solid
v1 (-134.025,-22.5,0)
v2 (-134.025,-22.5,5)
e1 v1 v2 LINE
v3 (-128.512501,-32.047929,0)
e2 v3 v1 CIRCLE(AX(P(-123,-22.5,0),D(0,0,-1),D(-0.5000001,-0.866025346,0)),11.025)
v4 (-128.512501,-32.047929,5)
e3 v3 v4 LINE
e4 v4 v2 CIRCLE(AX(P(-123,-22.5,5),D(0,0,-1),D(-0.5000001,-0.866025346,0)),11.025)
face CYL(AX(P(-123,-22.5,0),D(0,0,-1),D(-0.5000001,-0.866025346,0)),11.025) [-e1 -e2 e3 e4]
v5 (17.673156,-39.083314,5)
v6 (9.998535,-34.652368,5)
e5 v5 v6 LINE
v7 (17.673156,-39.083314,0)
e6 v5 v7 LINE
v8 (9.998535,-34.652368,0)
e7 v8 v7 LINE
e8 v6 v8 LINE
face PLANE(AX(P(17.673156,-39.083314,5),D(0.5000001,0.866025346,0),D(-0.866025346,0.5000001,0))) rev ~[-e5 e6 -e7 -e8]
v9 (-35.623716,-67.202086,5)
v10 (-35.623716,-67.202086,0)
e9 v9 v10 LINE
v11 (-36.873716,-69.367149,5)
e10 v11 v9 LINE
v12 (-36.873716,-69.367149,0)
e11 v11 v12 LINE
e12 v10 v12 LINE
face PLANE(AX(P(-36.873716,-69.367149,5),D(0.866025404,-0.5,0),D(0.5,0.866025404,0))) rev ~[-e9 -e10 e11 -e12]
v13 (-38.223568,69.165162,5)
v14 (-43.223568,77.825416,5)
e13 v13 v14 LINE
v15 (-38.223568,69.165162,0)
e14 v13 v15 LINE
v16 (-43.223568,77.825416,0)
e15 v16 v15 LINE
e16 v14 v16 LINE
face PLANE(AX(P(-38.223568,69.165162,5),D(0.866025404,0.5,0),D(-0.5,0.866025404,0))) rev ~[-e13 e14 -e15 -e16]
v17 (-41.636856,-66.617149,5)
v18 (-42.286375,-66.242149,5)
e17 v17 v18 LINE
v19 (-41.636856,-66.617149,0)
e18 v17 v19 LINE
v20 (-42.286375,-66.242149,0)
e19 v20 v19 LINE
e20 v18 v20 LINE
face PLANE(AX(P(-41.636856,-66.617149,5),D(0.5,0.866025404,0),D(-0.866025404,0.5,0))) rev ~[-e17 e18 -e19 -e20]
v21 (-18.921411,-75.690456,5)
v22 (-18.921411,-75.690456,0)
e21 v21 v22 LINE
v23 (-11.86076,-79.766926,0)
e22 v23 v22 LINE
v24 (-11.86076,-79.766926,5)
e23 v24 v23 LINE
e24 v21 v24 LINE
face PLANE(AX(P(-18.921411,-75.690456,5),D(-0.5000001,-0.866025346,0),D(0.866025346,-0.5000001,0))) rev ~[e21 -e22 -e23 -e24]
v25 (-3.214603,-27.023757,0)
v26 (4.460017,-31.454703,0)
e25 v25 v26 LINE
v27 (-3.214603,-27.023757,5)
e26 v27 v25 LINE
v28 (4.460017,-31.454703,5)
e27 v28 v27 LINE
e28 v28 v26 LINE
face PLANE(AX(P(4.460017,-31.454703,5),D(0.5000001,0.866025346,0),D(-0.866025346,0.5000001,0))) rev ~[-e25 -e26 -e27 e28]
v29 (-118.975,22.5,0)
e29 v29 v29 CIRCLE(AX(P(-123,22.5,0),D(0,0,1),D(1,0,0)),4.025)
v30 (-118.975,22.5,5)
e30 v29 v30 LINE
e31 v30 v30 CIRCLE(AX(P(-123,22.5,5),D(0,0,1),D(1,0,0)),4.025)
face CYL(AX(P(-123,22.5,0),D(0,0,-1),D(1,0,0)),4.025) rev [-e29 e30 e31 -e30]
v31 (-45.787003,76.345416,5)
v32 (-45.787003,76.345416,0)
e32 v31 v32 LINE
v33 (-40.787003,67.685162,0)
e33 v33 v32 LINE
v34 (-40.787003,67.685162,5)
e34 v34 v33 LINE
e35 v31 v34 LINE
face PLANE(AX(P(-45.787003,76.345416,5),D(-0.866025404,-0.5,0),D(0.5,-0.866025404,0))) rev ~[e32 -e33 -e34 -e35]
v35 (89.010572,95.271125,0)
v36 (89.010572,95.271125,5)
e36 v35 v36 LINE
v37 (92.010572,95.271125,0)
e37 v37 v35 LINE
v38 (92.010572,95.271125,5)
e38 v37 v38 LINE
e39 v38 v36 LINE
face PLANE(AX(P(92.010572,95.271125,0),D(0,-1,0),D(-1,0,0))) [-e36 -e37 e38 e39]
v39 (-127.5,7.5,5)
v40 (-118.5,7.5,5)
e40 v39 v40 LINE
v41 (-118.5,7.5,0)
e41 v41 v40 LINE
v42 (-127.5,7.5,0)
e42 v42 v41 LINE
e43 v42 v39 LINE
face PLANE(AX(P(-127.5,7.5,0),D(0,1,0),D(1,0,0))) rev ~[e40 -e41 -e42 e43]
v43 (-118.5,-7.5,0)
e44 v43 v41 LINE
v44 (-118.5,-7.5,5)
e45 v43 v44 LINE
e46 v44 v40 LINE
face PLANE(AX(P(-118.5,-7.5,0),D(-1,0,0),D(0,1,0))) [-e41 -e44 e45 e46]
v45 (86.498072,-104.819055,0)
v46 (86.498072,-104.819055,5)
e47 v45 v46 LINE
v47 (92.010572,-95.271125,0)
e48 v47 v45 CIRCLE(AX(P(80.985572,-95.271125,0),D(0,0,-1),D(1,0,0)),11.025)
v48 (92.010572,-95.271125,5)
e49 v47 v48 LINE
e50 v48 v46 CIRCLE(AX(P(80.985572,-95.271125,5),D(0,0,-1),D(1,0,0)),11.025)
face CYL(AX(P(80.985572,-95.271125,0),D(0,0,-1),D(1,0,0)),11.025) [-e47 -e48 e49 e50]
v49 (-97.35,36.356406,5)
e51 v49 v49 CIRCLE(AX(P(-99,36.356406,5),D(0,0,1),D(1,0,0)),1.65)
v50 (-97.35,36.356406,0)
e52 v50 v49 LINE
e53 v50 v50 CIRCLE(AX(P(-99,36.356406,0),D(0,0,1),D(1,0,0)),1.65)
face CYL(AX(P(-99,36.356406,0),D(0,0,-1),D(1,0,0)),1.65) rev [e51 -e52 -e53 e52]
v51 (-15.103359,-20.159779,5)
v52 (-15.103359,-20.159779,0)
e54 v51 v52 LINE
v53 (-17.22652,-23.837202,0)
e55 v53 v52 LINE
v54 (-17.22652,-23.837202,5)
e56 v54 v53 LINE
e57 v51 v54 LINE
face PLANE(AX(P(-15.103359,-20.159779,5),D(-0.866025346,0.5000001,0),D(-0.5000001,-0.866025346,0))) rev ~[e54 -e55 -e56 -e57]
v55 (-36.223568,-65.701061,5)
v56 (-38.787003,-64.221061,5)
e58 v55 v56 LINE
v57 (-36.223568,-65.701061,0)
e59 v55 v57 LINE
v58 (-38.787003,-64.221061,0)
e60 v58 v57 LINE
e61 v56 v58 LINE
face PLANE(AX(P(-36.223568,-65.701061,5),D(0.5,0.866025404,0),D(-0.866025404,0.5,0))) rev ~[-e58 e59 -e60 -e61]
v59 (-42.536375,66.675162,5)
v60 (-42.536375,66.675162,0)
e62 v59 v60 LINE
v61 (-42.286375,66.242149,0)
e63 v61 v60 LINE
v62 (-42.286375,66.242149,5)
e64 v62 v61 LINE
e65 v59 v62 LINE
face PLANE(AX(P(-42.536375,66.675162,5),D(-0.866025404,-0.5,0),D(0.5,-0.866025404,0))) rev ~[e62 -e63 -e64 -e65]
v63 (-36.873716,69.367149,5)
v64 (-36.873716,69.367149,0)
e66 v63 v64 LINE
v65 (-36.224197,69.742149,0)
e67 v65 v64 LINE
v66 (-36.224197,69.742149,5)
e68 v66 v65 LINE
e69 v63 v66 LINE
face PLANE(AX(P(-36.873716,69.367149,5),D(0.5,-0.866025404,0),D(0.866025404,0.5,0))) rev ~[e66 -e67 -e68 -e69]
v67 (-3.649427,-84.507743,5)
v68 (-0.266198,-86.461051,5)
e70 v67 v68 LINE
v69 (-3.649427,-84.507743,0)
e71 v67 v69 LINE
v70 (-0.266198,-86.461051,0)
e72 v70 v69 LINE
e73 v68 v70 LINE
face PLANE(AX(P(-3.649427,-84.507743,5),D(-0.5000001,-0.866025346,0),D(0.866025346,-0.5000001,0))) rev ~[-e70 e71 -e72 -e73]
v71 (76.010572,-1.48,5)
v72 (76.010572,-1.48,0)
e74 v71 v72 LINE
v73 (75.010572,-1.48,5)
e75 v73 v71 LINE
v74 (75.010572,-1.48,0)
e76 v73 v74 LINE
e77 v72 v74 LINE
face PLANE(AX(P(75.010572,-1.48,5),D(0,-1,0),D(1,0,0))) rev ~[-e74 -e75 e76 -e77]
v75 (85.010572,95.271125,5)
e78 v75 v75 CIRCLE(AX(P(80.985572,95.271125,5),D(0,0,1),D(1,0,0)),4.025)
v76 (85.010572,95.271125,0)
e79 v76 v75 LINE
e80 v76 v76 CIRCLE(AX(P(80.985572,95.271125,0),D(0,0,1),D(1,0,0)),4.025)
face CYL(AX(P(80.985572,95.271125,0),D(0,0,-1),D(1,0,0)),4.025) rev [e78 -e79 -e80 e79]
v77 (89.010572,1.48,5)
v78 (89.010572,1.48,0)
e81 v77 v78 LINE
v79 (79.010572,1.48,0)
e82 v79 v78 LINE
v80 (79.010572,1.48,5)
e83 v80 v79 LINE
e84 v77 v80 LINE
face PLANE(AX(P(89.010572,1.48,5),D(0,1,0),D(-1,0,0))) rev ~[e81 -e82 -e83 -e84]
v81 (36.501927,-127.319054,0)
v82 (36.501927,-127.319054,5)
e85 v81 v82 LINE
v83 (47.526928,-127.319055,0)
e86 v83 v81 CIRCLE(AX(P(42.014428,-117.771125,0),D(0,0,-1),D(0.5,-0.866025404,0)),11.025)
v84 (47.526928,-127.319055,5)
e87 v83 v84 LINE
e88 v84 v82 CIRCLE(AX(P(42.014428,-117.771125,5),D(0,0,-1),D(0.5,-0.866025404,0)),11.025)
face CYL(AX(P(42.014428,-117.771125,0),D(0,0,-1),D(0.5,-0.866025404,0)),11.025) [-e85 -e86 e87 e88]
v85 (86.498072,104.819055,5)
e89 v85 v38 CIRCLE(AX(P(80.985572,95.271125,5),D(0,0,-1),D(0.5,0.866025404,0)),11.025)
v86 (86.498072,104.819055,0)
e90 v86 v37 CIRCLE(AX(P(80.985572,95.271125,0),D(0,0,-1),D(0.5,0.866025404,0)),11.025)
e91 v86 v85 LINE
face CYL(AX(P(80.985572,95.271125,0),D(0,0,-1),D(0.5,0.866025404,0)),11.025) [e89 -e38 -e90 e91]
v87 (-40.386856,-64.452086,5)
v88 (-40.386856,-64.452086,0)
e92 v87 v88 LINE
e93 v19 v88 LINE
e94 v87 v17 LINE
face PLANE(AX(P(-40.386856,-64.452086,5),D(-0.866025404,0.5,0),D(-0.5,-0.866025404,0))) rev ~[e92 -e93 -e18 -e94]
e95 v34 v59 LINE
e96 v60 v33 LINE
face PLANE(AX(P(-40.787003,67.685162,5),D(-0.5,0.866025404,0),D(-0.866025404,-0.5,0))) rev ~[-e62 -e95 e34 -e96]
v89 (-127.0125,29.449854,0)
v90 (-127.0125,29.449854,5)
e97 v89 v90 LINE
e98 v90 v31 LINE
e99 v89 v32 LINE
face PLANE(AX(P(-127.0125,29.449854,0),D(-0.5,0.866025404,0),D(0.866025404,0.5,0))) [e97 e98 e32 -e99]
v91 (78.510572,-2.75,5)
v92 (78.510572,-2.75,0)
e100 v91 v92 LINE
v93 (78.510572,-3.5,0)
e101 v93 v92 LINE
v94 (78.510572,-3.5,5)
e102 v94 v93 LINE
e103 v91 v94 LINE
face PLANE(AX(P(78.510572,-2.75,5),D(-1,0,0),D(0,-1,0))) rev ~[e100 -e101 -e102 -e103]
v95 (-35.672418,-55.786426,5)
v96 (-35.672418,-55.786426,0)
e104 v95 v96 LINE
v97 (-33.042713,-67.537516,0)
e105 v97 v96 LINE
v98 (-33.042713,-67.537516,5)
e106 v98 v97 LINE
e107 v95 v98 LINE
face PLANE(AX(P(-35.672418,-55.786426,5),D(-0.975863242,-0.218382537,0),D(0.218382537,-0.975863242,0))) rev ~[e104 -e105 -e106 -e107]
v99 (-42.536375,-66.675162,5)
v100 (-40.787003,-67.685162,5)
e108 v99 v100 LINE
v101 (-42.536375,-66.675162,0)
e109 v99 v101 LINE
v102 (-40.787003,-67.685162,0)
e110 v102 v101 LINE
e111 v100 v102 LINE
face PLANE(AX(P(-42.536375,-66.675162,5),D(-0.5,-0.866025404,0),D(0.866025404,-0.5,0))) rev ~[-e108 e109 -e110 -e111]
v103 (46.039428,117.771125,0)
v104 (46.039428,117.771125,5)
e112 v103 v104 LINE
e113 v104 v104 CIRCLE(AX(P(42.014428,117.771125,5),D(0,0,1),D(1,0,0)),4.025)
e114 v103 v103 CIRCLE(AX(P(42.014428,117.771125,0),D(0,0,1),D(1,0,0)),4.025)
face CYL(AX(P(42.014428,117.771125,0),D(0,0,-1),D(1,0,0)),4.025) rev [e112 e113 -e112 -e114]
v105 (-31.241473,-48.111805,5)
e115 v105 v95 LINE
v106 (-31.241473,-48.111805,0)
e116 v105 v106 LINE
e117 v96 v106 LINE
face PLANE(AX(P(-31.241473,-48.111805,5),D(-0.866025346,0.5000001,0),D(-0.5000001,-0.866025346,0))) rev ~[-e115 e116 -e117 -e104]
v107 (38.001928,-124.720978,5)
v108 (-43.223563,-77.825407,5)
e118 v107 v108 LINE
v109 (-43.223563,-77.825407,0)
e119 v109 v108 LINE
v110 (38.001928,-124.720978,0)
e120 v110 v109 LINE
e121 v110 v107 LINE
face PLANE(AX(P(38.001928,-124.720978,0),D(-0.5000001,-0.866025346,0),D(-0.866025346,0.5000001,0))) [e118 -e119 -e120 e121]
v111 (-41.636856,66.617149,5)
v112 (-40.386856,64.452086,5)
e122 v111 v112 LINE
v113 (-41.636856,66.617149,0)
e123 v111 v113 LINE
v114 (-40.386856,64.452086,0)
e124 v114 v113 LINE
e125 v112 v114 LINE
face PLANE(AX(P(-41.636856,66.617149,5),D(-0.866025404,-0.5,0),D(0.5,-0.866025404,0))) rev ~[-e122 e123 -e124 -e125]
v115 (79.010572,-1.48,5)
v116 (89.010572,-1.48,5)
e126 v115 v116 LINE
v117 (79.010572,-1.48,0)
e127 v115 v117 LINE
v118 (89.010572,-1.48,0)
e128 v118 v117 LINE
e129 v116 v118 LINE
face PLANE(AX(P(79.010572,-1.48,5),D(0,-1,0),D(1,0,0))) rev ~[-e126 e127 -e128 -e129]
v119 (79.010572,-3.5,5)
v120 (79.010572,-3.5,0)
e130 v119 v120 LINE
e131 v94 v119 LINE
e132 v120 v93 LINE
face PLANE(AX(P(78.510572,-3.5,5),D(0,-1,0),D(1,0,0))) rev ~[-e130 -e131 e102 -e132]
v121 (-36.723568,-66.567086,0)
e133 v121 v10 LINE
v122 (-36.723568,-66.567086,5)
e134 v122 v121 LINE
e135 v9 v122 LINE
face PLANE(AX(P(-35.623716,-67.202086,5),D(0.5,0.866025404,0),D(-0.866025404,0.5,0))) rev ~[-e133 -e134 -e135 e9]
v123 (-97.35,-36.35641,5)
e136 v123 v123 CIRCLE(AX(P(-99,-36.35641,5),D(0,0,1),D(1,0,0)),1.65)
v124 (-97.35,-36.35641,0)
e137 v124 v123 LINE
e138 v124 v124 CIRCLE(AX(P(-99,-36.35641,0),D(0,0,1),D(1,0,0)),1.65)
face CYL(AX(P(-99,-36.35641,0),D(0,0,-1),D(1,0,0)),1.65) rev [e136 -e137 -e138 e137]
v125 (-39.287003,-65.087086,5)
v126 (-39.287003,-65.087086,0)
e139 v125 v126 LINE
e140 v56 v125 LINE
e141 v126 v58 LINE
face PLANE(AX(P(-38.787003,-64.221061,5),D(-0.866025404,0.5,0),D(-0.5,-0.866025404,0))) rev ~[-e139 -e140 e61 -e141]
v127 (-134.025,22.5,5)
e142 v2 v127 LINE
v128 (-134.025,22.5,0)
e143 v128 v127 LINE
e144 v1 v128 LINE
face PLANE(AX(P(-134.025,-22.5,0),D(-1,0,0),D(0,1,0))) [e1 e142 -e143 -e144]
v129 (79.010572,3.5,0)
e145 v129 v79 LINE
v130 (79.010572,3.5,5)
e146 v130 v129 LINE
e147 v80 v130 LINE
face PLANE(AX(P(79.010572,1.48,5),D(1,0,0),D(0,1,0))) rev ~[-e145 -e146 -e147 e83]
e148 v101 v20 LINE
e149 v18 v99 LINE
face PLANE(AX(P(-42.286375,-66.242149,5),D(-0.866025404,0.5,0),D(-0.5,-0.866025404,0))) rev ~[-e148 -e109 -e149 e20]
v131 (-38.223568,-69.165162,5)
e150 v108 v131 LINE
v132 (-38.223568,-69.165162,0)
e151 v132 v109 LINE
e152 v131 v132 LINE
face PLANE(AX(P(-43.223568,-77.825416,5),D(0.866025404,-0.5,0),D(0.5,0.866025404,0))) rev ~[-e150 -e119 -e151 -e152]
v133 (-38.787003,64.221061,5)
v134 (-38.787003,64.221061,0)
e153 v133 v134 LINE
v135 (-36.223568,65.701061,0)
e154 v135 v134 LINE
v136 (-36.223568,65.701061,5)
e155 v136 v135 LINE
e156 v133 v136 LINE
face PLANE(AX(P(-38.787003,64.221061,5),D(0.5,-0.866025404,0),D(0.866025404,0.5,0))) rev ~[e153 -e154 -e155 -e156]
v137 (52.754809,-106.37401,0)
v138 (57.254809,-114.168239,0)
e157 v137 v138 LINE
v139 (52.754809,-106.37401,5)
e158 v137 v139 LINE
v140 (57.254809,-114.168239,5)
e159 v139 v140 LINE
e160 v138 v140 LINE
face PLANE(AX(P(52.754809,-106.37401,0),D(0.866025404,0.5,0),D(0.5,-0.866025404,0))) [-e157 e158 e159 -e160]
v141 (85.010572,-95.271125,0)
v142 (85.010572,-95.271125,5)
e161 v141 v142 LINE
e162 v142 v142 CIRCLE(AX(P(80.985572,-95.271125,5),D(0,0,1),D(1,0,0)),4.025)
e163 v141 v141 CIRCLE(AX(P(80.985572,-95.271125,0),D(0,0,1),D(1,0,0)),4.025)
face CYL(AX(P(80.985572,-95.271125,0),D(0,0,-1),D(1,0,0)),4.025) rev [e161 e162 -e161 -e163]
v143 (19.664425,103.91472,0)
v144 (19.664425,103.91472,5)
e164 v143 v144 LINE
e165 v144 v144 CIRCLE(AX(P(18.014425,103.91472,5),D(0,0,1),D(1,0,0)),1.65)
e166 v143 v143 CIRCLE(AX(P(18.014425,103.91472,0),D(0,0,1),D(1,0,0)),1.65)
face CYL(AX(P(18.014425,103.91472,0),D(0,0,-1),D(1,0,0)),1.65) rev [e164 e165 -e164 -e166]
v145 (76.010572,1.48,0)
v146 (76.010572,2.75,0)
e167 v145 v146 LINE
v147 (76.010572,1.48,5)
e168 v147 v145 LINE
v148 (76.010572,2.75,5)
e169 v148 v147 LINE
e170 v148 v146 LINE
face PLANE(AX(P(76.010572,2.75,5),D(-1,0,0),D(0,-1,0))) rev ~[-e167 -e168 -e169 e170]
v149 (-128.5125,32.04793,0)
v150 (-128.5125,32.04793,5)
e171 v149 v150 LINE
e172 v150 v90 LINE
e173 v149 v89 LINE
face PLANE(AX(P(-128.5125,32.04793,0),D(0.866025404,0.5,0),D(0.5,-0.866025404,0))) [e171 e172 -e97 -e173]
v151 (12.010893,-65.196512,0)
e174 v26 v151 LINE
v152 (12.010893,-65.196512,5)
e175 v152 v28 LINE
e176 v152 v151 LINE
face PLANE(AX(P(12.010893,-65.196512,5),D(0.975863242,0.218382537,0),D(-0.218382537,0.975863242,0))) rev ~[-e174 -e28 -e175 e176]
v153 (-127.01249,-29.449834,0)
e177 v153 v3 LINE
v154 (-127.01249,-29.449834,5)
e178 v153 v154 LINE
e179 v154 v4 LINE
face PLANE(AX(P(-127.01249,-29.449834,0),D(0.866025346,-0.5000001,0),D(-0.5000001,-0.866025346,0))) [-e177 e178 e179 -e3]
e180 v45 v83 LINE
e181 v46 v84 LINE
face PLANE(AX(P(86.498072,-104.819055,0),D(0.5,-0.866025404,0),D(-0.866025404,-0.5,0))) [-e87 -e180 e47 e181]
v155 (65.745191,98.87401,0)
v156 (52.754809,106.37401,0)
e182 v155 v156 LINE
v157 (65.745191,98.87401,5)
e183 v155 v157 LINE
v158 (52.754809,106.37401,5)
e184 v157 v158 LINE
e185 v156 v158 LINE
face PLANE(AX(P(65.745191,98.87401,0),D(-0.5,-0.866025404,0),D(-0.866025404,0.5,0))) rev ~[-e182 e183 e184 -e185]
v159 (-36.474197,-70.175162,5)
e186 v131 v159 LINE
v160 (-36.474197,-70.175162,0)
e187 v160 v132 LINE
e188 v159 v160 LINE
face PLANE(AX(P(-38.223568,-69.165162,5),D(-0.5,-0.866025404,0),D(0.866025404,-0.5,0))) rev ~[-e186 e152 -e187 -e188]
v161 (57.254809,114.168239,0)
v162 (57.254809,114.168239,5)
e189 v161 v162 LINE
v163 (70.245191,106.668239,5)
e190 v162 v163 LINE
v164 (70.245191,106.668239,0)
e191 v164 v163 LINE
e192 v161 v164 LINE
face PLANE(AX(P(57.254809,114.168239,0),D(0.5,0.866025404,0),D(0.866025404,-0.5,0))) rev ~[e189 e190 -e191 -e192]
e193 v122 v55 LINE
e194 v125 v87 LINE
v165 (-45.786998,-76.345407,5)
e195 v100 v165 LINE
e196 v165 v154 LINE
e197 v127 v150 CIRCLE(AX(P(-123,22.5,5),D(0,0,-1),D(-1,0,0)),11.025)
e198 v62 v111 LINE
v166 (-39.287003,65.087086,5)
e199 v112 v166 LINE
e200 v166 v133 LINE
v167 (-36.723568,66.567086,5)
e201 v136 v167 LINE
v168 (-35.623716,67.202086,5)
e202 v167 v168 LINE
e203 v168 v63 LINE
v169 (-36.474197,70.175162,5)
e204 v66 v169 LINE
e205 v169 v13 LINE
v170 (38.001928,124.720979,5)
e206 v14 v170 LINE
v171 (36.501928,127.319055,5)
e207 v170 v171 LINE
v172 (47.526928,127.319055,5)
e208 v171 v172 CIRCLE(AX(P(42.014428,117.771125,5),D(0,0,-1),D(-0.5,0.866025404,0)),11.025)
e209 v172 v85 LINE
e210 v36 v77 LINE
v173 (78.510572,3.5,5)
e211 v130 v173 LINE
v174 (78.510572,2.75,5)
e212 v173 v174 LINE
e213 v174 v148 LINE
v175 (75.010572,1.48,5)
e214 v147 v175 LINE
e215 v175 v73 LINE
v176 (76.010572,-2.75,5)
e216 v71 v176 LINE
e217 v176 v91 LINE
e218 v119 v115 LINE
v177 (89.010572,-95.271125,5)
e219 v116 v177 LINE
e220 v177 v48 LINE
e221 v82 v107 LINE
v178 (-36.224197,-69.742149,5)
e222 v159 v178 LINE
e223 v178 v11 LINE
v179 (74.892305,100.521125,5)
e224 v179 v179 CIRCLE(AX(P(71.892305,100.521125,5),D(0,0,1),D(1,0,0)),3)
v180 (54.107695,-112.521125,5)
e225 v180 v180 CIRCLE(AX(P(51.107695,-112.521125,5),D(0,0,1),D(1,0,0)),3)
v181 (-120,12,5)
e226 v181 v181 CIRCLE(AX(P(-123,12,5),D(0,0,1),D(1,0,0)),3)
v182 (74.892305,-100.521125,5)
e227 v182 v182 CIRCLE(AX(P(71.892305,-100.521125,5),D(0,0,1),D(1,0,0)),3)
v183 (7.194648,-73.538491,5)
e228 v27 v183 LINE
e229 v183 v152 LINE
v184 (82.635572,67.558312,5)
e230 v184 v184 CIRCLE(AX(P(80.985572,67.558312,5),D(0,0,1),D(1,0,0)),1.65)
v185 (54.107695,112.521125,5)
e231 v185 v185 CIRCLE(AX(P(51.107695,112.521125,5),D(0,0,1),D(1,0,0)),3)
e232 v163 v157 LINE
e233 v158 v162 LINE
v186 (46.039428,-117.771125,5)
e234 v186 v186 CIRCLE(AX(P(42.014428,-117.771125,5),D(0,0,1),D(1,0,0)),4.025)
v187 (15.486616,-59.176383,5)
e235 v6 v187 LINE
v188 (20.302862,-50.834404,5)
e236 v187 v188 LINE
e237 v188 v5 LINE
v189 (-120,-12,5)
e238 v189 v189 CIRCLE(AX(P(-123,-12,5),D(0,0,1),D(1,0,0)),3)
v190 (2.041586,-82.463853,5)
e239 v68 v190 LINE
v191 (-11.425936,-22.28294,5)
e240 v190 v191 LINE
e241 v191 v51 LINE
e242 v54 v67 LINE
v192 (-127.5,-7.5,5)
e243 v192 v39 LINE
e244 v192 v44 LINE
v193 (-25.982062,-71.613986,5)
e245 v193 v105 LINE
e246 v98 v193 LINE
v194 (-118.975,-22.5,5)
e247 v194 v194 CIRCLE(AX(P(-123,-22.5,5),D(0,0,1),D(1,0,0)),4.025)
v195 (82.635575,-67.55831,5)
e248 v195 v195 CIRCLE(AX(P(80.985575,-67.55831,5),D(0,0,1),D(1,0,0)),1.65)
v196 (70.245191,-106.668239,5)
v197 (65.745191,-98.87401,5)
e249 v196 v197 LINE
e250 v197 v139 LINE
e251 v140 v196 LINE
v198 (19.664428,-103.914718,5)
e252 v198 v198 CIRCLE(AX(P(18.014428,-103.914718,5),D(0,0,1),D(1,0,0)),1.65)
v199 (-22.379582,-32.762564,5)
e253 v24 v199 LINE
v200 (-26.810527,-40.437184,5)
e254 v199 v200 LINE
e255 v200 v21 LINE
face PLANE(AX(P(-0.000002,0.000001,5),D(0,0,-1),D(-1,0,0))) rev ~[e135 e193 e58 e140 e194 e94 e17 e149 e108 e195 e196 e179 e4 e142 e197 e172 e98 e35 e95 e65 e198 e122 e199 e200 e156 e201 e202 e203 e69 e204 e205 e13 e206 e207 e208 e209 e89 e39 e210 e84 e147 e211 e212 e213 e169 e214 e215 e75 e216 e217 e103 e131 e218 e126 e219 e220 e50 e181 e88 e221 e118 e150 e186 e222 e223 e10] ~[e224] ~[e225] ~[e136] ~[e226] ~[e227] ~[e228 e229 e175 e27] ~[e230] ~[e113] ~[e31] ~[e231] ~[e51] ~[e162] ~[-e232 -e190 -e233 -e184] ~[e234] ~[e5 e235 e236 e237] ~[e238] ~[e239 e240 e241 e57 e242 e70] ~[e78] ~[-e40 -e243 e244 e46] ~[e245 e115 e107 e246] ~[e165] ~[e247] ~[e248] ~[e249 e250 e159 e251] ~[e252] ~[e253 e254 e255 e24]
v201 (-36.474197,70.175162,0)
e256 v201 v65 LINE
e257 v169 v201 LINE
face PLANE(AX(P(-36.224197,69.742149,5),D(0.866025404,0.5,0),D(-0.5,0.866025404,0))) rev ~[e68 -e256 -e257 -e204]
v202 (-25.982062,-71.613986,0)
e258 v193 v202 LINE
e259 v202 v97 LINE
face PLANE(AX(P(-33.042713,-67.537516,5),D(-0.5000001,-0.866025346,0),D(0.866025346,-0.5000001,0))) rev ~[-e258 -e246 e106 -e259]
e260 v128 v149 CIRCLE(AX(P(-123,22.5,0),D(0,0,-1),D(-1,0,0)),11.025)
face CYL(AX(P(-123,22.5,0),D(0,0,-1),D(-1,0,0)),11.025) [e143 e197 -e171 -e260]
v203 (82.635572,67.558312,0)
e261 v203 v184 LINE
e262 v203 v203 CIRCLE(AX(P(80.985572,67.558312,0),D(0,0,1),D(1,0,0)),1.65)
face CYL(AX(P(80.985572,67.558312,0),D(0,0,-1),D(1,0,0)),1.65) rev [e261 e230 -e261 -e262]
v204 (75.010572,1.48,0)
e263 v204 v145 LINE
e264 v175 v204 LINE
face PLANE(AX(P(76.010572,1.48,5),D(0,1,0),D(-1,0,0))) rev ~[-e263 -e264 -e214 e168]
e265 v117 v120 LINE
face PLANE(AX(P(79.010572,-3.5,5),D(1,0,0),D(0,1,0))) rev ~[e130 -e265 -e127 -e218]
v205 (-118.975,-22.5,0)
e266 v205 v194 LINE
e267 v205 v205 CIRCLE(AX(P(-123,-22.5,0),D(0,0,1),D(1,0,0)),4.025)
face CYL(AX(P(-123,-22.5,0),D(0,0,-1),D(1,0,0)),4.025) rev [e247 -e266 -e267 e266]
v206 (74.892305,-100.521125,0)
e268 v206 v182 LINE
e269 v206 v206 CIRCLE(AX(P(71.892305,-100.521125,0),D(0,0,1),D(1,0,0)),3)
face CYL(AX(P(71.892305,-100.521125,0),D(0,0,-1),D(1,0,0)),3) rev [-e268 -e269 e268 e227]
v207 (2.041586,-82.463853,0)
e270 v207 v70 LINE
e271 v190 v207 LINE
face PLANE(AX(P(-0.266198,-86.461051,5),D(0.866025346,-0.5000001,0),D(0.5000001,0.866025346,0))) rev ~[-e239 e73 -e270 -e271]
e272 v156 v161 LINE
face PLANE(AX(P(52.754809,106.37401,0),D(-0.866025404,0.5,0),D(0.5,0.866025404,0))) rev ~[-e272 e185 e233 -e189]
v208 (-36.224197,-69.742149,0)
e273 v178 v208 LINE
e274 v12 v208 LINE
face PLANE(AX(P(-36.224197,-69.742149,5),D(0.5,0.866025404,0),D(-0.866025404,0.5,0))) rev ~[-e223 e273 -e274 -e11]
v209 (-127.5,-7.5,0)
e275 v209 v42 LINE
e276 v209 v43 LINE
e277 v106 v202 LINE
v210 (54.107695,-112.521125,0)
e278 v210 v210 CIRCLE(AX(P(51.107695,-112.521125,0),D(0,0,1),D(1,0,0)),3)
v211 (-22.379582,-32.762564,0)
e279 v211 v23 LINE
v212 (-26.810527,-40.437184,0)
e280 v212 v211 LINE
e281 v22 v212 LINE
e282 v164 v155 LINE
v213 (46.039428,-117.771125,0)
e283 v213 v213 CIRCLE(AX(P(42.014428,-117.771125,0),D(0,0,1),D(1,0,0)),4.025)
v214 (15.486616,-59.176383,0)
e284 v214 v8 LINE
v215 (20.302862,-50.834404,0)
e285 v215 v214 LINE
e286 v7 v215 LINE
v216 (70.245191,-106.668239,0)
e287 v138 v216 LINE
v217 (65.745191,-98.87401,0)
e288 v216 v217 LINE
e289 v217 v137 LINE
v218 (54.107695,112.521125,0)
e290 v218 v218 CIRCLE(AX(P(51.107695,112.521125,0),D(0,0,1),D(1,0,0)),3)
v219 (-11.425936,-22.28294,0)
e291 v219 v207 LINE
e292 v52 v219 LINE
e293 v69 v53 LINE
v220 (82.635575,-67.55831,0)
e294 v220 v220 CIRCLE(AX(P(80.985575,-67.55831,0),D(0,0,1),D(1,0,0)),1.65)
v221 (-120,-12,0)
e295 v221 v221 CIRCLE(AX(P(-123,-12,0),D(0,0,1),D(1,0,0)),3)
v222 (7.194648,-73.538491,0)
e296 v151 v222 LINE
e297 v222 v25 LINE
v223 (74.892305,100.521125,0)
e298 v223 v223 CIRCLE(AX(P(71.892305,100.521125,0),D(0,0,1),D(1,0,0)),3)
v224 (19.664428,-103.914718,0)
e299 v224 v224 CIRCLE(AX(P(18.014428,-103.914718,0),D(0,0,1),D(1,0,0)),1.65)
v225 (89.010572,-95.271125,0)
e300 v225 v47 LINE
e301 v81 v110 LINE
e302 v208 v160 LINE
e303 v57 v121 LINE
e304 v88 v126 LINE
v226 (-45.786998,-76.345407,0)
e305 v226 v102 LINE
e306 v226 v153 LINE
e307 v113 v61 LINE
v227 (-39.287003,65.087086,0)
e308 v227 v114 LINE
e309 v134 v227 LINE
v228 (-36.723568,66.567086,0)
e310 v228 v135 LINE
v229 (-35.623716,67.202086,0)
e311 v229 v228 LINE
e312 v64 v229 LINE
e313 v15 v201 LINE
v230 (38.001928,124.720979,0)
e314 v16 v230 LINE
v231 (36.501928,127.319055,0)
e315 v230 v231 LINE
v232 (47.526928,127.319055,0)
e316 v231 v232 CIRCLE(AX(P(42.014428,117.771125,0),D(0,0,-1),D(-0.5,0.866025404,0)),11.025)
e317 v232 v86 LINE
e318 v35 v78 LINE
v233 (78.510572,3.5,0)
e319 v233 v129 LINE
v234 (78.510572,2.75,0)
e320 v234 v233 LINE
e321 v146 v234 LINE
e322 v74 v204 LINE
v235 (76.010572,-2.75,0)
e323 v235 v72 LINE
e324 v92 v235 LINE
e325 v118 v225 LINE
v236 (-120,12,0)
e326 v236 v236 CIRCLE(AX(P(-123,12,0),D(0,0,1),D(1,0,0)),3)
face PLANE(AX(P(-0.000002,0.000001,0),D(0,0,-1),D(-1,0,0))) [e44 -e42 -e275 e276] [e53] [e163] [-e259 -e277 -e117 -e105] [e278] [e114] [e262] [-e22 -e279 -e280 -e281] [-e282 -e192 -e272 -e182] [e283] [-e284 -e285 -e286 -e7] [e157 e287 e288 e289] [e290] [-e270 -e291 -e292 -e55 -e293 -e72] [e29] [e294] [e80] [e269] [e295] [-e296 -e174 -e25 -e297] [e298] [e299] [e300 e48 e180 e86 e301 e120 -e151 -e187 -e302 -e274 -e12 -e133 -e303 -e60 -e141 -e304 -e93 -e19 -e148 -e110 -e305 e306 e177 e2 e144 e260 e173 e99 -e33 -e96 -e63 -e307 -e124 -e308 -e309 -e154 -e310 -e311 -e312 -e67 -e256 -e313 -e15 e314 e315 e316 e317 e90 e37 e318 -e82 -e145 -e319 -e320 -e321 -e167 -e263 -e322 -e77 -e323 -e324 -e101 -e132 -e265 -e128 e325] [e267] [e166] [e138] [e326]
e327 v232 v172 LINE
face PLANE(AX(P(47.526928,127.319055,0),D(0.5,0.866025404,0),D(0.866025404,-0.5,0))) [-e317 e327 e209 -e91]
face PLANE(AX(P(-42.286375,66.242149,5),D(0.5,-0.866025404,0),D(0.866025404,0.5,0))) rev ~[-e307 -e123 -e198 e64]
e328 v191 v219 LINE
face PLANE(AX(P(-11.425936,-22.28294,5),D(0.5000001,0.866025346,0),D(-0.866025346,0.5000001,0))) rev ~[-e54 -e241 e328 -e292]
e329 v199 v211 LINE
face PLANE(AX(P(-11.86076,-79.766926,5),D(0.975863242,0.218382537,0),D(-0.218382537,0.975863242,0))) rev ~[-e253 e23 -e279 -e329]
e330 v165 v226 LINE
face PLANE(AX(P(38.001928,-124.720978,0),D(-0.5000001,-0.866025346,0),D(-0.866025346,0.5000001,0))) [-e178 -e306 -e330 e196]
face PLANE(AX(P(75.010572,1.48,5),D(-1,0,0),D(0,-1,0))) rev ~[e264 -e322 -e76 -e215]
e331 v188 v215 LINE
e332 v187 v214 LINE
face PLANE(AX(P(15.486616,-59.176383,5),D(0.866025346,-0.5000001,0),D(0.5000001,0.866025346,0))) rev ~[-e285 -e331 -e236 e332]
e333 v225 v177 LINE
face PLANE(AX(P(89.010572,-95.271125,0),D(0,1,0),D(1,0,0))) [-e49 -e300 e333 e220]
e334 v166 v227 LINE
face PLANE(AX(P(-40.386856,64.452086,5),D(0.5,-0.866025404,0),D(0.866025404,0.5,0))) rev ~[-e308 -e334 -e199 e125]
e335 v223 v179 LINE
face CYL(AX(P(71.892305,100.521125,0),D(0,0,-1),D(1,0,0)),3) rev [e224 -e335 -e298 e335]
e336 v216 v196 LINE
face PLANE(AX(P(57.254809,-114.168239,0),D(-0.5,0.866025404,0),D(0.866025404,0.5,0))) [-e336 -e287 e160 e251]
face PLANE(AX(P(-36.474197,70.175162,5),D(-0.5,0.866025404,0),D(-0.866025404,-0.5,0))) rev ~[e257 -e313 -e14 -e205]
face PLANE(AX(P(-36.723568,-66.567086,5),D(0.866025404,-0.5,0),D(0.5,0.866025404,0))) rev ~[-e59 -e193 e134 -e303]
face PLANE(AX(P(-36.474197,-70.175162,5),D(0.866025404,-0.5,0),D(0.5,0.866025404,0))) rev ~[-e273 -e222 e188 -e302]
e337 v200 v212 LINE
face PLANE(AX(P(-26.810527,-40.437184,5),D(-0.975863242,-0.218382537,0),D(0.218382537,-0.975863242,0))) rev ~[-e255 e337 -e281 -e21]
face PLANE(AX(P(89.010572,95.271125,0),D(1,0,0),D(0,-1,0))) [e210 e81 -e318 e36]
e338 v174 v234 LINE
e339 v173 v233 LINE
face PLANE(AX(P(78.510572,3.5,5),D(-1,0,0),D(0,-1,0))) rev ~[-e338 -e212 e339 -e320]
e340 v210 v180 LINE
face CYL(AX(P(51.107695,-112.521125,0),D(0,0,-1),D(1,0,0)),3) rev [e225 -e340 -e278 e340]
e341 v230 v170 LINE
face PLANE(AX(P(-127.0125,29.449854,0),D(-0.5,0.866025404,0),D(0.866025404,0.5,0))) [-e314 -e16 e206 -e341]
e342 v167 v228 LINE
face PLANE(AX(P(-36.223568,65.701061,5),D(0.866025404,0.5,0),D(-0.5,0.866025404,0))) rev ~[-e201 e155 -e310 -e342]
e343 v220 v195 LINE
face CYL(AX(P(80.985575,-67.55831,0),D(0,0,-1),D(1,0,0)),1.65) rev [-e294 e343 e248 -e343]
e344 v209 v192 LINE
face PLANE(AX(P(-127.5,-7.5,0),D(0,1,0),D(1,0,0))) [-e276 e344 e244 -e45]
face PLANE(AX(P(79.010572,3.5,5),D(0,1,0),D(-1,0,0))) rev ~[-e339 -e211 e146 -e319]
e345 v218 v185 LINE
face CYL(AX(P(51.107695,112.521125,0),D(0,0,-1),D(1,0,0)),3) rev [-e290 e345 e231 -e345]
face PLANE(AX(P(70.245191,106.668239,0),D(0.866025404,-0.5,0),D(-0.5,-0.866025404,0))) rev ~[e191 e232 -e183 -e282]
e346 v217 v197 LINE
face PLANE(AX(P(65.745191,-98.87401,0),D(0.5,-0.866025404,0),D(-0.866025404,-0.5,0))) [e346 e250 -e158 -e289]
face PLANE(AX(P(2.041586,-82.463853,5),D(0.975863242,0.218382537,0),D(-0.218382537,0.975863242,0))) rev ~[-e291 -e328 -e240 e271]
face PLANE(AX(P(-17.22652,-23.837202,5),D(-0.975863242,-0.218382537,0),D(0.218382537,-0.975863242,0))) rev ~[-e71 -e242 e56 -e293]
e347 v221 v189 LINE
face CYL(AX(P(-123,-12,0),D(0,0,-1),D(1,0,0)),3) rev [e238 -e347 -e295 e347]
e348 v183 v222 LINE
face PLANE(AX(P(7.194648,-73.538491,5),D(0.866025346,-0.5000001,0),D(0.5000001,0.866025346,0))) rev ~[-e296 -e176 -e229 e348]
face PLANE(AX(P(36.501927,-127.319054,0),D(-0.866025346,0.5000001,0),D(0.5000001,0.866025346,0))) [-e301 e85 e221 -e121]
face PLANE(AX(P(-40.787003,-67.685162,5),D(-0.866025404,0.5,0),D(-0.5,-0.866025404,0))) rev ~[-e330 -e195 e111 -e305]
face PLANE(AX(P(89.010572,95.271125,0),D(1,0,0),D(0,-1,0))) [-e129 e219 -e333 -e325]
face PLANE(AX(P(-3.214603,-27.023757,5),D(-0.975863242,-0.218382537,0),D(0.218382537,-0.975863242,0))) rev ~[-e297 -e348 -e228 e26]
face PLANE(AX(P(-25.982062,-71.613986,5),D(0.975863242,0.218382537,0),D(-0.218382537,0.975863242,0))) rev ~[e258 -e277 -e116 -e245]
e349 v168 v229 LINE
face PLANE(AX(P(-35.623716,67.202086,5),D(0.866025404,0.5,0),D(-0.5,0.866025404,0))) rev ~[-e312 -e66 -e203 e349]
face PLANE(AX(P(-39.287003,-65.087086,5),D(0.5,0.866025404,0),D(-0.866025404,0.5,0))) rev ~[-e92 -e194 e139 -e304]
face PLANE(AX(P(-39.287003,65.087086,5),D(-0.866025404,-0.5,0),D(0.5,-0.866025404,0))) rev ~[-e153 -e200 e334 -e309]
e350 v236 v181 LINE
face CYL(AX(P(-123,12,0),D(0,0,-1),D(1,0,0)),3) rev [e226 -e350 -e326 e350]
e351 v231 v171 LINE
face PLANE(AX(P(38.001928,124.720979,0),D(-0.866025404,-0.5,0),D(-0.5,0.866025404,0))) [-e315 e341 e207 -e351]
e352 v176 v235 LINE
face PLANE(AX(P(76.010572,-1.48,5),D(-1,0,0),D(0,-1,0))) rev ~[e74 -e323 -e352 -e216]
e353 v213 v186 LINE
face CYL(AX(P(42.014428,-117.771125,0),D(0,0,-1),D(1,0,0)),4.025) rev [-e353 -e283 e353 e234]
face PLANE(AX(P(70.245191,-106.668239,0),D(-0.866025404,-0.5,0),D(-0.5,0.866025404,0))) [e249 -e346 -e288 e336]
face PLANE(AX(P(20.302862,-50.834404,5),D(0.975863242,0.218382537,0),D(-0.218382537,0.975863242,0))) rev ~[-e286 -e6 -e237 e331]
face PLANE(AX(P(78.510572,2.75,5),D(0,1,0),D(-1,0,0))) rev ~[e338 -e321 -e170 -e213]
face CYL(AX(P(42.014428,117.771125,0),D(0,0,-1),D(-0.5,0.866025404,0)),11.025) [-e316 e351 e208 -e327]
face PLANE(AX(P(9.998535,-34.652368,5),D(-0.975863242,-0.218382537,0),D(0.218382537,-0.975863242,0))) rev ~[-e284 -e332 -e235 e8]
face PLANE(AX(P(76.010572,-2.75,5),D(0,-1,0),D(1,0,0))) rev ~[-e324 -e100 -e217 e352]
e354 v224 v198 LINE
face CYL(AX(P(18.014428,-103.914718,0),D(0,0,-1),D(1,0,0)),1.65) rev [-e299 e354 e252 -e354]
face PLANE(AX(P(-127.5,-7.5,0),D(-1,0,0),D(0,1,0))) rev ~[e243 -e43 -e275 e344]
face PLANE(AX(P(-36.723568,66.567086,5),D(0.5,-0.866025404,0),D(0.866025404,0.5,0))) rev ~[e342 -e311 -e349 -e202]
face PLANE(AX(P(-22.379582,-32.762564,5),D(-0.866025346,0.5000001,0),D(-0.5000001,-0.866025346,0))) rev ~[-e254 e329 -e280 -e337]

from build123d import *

# Parameters (mm, degrees)
SKETCH1_R           = 4.025
SKETCH1_R_2         = 1.65
SKETCH1_R_3         = 3
SKETCH1_W           = 9
SKETCH1_H           = 15
BOSS_EXTRUDE1_DEPTH = 5
CUT_EXTRUDE1_DEPTH  = 186.946611569
CUT_EXTRUDE2_DEPTH  = 186.946611569


with BuildPart() as part:
    # Sketch1 → Boss-Extrude1 (new body)
    with BuildSketch(Plane.XY):
        with BuildLine():
            Line((-127.0125, 29.449853865), (38.001928415, 124.720978531))
            Line((38.001928415, 124.720978531), (36.501928415, 127.319054742))
            ThreePointArc((36.501928415, 127.319054742), (42.014428415, 128.796124665), (47.526928415, 127.319054742))
            Line((47.526928415, 127.319054742), (86.498071585, 104.819054742))
            ThreePointArc((86.498071585, 104.819054742), (90.533501662, 100.783624665), (92.010571585, 95.271124665))
            Line((92.010571585, 95.271124665), (89.010571585, 95.271124665))
            Line((89.010571585, 95.271124665), (89.010571585, -95.271124665))
            Line((89.010571585, -95.271124665), (92.010571585, -95.271124665))
            ThreePointArc((92.010571585, -95.271124665), (90.533501662, -100.783624665), (86.498071585, -104.819054742))
            Line((86.498071585, -104.819054742), (47.526928415, -127.319054742))
            ThreePointArc((47.526928415, -127.319054742), (42.014427779, -128.796124665), (36.501927313, -127.319054106))
            Line((36.501927313, -127.319054106), (38.001927613, -124.720978068))
            Line((38.001927613, -124.720978068), (-127.012489808, -29.44983436))
            Line((-127.012489808, -29.44983436), (-128.512501102, -32.047929441))
            ThreePointArc((-128.512501102, -32.047929441), (-132.547930395, -28.012499449), (-134.025, -22.5))
            Line((-134.025, -22.5), (-134.025, 22.5))
            ThreePointArc((-134.025, 22.5), (-132.547930077, 28.0125), (-128.5125, 32.047930077))
            Line((-128.5125, 32.047930077), (-127.0125, 29.449853865))
        make_face()
        with Locations((-123, 22.5)):
            Circle(SKETCH1_R, mode=Mode.SUBTRACT)
        with Locations((-123, -22.5)):
            Circle(SKETCH1_R, mode=Mode.SUBTRACT)
        with Locations((42.014428415, 117.771124665)):
            Circle(SKETCH1_R, mode=Mode.SUBTRACT)
        with Locations((80.985571585, 95.271124665)):
            Circle(SKETCH1_R, mode=Mode.SUBTRACT)
        with Locations((80.985571585, -95.271124665)):
            Circle(SKETCH1_R, mode=Mode.SUBTRACT)
        with Locations((42.014428415, -117.771124665)):
            Circle(SKETCH1_R, mode=Mode.SUBTRACT)
        with Locations((-99, 36.356406461)):
            Circle(SKETCH1_R_2, mode=Mode.SUBTRACT)
        with Locations((-99, -36.356410153)):
            Circle(SKETCH1_R_2, mode=Mode.SUBTRACT)
        with Locations((80.985571585, 67.558311744)):
            Circle(SKETCH1_R_2, mode=Mode.SUBTRACT)
        with Locations((18.014425217, 103.914720051)):
            Circle(SKETCH1_R_2, mode=Mode.SUBTRACT)
        with Locations((18.014428415, -103.914718205)):
            Circle(SKETCH1_R_2, mode=Mode.SUBTRACT)
        with Locations((80.985574783, -67.558309898)):
            Circle(SKETCH1_R_2, mode=Mode.SUBTRACT)
        with Locations((-123, 12)):
            Circle(SKETCH1_R_3, mode=Mode.SUBTRACT)
        with Locations((-123, -12)):
            Circle(SKETCH1_R_3, mode=Mode.SUBTRACT)
        with Locations((71.892304845, 100.521124665)):
            Circle(SKETCH1_R_3, mode=Mode.SUBTRACT)
        with Locations((51.107695155, 112.521124665)):
            Circle(SKETCH1_R_3, mode=Mode.SUBTRACT)
        with Locations((51.107695155, -112.521124665)):
            Circle(SKETCH1_R_3, mode=Mode.SUBTRACT)
        with Locations((71.892304845, -100.521124665)):
            Circle(SKETCH1_R_3, mode=Mode.SUBTRACT)
        Polygon((57.254809472, -114.168238983), (70.245190528, -106.668238983), (65.745190528, -98.874010348), (52.754809472, -106.374010348), align=None, mode=Mode.SUBTRACT)
        with Locations((-123, 0)):
            Rectangle(SKETCH1_W, SKETCH1_H, mode=Mode.SUBTRACT)
        Polygon((65.745190528, 98.874010348), (52.754809472, 106.374010348), (57.254809472, 114.168238983), (70.245190528, 106.668238983), align=None, mode=Mode.SUBTRACT)
    extrude(amount=BOSS_EXTRUDE1_DEPTH)

    # Sketch2 → Cut-Extrude1 (cut, through all)
    with BuildSketch(Plane.XY.offset(5)):
        Polygon((89.010571585, 1.48), (79.010571585, 1.48), (79.010571585, 3.5), (78.510571585, 3.5), (78.510571585, 2.75), (76.010571585, 2.75), (76.010571585, 1.48), (75.010571585, 1.48), (75.010571585, -1.48), (76.010571585, -1.48), (76.010571585, -2.75), (78.510571585, -2.75), (78.510571585, -3.5), (79.010571585, -3.5), (79.010571585, -1.48), (89.010571585, -1.48), align=None)
        Polygon((-43.223568195, -77.825416198), (-38.223568195, -69.16516216), (-36.474196879, -70.17516216), (-36.224196879, -69.742149458), (-36.873715932, -69.367149458), (-35.623715932, -67.202085949), (-36.723568195, -66.567085949), (-36.223568195, -65.701060545), (-38.78700339, -64.221060545), (-39.28700339, -65.087085949), (-40.386855653, -64.452085949), (-41.636855653, -66.617149458), (-42.286374706, -66.242149458), (-42.536374706, -66.67516216), (-40.78700339, -67.68516216), (-45.78700339, -76.345416198), align=None)
        Polygon((-45.78700339, 76.345416198), (-40.78700339, 67.68516216), (-42.536374706, 66.67516216), (-42.286374706, 66.242149458), (-41.636855653, 66.617149458), (-40.386855653, 64.452085949), (-39.28700339, 65.087085949), (-38.78700339, 64.221060545), (-36.223568195, 65.701060545), (-36.723568195, 66.567085949), (-35.623715932, 67.202085949), (-36.873715932, 69.367149458), (-36.224196879, 69.742149458), (-36.474196879, 70.17516216), (-38.223568195, 69.16516216), (-43.223568195, 77.825416198), align=None)
    extrude(amount=-CUT_EXTRUDE1_DEPTH, mode=Mode.SUBTRACT)

    # Sketch3 → Cut-Extrude2 (cut, through all)
    with BuildSketch(Plane.XY.offset(5)):
        Polygon((-35.672418314, -55.786425681), (-33.042712773, -67.537516271), (-25.982061715, -71.613986146), (-31.241472797, -48.111804967), align=None)
        Polygon((-26.810527281, -40.437184252), (-18.921410657, -75.690456022), (-11.8607596, -79.766925897), (-22.379581764, -32.762563537), align=None)
        Polygon((-17.226520227, -23.837201518), (-3.649426542, -84.507742511), (-0.26619791, -86.461050993), (2.041586213, -82.463852704), (-11.425936407, -22.282940485), (-15.103358833, -20.159779092), align=None)
        Polygon((-3.21460335, -27.0237571), (7.194647751, -73.538490685), (12.010892877, -65.196511647), (4.460017365, -31.454702616), align=None)
        Polygon((9.998535314, -34.652368297), (15.486616444, -59.176383442), (20.30286157, -50.834404404), (17.673156029, -39.083313814), align=None)
    extrude(amount=-CUT_EXTRUDE2_DEPTH, mode=Mode.SUBTRACT)


solid = part.part
